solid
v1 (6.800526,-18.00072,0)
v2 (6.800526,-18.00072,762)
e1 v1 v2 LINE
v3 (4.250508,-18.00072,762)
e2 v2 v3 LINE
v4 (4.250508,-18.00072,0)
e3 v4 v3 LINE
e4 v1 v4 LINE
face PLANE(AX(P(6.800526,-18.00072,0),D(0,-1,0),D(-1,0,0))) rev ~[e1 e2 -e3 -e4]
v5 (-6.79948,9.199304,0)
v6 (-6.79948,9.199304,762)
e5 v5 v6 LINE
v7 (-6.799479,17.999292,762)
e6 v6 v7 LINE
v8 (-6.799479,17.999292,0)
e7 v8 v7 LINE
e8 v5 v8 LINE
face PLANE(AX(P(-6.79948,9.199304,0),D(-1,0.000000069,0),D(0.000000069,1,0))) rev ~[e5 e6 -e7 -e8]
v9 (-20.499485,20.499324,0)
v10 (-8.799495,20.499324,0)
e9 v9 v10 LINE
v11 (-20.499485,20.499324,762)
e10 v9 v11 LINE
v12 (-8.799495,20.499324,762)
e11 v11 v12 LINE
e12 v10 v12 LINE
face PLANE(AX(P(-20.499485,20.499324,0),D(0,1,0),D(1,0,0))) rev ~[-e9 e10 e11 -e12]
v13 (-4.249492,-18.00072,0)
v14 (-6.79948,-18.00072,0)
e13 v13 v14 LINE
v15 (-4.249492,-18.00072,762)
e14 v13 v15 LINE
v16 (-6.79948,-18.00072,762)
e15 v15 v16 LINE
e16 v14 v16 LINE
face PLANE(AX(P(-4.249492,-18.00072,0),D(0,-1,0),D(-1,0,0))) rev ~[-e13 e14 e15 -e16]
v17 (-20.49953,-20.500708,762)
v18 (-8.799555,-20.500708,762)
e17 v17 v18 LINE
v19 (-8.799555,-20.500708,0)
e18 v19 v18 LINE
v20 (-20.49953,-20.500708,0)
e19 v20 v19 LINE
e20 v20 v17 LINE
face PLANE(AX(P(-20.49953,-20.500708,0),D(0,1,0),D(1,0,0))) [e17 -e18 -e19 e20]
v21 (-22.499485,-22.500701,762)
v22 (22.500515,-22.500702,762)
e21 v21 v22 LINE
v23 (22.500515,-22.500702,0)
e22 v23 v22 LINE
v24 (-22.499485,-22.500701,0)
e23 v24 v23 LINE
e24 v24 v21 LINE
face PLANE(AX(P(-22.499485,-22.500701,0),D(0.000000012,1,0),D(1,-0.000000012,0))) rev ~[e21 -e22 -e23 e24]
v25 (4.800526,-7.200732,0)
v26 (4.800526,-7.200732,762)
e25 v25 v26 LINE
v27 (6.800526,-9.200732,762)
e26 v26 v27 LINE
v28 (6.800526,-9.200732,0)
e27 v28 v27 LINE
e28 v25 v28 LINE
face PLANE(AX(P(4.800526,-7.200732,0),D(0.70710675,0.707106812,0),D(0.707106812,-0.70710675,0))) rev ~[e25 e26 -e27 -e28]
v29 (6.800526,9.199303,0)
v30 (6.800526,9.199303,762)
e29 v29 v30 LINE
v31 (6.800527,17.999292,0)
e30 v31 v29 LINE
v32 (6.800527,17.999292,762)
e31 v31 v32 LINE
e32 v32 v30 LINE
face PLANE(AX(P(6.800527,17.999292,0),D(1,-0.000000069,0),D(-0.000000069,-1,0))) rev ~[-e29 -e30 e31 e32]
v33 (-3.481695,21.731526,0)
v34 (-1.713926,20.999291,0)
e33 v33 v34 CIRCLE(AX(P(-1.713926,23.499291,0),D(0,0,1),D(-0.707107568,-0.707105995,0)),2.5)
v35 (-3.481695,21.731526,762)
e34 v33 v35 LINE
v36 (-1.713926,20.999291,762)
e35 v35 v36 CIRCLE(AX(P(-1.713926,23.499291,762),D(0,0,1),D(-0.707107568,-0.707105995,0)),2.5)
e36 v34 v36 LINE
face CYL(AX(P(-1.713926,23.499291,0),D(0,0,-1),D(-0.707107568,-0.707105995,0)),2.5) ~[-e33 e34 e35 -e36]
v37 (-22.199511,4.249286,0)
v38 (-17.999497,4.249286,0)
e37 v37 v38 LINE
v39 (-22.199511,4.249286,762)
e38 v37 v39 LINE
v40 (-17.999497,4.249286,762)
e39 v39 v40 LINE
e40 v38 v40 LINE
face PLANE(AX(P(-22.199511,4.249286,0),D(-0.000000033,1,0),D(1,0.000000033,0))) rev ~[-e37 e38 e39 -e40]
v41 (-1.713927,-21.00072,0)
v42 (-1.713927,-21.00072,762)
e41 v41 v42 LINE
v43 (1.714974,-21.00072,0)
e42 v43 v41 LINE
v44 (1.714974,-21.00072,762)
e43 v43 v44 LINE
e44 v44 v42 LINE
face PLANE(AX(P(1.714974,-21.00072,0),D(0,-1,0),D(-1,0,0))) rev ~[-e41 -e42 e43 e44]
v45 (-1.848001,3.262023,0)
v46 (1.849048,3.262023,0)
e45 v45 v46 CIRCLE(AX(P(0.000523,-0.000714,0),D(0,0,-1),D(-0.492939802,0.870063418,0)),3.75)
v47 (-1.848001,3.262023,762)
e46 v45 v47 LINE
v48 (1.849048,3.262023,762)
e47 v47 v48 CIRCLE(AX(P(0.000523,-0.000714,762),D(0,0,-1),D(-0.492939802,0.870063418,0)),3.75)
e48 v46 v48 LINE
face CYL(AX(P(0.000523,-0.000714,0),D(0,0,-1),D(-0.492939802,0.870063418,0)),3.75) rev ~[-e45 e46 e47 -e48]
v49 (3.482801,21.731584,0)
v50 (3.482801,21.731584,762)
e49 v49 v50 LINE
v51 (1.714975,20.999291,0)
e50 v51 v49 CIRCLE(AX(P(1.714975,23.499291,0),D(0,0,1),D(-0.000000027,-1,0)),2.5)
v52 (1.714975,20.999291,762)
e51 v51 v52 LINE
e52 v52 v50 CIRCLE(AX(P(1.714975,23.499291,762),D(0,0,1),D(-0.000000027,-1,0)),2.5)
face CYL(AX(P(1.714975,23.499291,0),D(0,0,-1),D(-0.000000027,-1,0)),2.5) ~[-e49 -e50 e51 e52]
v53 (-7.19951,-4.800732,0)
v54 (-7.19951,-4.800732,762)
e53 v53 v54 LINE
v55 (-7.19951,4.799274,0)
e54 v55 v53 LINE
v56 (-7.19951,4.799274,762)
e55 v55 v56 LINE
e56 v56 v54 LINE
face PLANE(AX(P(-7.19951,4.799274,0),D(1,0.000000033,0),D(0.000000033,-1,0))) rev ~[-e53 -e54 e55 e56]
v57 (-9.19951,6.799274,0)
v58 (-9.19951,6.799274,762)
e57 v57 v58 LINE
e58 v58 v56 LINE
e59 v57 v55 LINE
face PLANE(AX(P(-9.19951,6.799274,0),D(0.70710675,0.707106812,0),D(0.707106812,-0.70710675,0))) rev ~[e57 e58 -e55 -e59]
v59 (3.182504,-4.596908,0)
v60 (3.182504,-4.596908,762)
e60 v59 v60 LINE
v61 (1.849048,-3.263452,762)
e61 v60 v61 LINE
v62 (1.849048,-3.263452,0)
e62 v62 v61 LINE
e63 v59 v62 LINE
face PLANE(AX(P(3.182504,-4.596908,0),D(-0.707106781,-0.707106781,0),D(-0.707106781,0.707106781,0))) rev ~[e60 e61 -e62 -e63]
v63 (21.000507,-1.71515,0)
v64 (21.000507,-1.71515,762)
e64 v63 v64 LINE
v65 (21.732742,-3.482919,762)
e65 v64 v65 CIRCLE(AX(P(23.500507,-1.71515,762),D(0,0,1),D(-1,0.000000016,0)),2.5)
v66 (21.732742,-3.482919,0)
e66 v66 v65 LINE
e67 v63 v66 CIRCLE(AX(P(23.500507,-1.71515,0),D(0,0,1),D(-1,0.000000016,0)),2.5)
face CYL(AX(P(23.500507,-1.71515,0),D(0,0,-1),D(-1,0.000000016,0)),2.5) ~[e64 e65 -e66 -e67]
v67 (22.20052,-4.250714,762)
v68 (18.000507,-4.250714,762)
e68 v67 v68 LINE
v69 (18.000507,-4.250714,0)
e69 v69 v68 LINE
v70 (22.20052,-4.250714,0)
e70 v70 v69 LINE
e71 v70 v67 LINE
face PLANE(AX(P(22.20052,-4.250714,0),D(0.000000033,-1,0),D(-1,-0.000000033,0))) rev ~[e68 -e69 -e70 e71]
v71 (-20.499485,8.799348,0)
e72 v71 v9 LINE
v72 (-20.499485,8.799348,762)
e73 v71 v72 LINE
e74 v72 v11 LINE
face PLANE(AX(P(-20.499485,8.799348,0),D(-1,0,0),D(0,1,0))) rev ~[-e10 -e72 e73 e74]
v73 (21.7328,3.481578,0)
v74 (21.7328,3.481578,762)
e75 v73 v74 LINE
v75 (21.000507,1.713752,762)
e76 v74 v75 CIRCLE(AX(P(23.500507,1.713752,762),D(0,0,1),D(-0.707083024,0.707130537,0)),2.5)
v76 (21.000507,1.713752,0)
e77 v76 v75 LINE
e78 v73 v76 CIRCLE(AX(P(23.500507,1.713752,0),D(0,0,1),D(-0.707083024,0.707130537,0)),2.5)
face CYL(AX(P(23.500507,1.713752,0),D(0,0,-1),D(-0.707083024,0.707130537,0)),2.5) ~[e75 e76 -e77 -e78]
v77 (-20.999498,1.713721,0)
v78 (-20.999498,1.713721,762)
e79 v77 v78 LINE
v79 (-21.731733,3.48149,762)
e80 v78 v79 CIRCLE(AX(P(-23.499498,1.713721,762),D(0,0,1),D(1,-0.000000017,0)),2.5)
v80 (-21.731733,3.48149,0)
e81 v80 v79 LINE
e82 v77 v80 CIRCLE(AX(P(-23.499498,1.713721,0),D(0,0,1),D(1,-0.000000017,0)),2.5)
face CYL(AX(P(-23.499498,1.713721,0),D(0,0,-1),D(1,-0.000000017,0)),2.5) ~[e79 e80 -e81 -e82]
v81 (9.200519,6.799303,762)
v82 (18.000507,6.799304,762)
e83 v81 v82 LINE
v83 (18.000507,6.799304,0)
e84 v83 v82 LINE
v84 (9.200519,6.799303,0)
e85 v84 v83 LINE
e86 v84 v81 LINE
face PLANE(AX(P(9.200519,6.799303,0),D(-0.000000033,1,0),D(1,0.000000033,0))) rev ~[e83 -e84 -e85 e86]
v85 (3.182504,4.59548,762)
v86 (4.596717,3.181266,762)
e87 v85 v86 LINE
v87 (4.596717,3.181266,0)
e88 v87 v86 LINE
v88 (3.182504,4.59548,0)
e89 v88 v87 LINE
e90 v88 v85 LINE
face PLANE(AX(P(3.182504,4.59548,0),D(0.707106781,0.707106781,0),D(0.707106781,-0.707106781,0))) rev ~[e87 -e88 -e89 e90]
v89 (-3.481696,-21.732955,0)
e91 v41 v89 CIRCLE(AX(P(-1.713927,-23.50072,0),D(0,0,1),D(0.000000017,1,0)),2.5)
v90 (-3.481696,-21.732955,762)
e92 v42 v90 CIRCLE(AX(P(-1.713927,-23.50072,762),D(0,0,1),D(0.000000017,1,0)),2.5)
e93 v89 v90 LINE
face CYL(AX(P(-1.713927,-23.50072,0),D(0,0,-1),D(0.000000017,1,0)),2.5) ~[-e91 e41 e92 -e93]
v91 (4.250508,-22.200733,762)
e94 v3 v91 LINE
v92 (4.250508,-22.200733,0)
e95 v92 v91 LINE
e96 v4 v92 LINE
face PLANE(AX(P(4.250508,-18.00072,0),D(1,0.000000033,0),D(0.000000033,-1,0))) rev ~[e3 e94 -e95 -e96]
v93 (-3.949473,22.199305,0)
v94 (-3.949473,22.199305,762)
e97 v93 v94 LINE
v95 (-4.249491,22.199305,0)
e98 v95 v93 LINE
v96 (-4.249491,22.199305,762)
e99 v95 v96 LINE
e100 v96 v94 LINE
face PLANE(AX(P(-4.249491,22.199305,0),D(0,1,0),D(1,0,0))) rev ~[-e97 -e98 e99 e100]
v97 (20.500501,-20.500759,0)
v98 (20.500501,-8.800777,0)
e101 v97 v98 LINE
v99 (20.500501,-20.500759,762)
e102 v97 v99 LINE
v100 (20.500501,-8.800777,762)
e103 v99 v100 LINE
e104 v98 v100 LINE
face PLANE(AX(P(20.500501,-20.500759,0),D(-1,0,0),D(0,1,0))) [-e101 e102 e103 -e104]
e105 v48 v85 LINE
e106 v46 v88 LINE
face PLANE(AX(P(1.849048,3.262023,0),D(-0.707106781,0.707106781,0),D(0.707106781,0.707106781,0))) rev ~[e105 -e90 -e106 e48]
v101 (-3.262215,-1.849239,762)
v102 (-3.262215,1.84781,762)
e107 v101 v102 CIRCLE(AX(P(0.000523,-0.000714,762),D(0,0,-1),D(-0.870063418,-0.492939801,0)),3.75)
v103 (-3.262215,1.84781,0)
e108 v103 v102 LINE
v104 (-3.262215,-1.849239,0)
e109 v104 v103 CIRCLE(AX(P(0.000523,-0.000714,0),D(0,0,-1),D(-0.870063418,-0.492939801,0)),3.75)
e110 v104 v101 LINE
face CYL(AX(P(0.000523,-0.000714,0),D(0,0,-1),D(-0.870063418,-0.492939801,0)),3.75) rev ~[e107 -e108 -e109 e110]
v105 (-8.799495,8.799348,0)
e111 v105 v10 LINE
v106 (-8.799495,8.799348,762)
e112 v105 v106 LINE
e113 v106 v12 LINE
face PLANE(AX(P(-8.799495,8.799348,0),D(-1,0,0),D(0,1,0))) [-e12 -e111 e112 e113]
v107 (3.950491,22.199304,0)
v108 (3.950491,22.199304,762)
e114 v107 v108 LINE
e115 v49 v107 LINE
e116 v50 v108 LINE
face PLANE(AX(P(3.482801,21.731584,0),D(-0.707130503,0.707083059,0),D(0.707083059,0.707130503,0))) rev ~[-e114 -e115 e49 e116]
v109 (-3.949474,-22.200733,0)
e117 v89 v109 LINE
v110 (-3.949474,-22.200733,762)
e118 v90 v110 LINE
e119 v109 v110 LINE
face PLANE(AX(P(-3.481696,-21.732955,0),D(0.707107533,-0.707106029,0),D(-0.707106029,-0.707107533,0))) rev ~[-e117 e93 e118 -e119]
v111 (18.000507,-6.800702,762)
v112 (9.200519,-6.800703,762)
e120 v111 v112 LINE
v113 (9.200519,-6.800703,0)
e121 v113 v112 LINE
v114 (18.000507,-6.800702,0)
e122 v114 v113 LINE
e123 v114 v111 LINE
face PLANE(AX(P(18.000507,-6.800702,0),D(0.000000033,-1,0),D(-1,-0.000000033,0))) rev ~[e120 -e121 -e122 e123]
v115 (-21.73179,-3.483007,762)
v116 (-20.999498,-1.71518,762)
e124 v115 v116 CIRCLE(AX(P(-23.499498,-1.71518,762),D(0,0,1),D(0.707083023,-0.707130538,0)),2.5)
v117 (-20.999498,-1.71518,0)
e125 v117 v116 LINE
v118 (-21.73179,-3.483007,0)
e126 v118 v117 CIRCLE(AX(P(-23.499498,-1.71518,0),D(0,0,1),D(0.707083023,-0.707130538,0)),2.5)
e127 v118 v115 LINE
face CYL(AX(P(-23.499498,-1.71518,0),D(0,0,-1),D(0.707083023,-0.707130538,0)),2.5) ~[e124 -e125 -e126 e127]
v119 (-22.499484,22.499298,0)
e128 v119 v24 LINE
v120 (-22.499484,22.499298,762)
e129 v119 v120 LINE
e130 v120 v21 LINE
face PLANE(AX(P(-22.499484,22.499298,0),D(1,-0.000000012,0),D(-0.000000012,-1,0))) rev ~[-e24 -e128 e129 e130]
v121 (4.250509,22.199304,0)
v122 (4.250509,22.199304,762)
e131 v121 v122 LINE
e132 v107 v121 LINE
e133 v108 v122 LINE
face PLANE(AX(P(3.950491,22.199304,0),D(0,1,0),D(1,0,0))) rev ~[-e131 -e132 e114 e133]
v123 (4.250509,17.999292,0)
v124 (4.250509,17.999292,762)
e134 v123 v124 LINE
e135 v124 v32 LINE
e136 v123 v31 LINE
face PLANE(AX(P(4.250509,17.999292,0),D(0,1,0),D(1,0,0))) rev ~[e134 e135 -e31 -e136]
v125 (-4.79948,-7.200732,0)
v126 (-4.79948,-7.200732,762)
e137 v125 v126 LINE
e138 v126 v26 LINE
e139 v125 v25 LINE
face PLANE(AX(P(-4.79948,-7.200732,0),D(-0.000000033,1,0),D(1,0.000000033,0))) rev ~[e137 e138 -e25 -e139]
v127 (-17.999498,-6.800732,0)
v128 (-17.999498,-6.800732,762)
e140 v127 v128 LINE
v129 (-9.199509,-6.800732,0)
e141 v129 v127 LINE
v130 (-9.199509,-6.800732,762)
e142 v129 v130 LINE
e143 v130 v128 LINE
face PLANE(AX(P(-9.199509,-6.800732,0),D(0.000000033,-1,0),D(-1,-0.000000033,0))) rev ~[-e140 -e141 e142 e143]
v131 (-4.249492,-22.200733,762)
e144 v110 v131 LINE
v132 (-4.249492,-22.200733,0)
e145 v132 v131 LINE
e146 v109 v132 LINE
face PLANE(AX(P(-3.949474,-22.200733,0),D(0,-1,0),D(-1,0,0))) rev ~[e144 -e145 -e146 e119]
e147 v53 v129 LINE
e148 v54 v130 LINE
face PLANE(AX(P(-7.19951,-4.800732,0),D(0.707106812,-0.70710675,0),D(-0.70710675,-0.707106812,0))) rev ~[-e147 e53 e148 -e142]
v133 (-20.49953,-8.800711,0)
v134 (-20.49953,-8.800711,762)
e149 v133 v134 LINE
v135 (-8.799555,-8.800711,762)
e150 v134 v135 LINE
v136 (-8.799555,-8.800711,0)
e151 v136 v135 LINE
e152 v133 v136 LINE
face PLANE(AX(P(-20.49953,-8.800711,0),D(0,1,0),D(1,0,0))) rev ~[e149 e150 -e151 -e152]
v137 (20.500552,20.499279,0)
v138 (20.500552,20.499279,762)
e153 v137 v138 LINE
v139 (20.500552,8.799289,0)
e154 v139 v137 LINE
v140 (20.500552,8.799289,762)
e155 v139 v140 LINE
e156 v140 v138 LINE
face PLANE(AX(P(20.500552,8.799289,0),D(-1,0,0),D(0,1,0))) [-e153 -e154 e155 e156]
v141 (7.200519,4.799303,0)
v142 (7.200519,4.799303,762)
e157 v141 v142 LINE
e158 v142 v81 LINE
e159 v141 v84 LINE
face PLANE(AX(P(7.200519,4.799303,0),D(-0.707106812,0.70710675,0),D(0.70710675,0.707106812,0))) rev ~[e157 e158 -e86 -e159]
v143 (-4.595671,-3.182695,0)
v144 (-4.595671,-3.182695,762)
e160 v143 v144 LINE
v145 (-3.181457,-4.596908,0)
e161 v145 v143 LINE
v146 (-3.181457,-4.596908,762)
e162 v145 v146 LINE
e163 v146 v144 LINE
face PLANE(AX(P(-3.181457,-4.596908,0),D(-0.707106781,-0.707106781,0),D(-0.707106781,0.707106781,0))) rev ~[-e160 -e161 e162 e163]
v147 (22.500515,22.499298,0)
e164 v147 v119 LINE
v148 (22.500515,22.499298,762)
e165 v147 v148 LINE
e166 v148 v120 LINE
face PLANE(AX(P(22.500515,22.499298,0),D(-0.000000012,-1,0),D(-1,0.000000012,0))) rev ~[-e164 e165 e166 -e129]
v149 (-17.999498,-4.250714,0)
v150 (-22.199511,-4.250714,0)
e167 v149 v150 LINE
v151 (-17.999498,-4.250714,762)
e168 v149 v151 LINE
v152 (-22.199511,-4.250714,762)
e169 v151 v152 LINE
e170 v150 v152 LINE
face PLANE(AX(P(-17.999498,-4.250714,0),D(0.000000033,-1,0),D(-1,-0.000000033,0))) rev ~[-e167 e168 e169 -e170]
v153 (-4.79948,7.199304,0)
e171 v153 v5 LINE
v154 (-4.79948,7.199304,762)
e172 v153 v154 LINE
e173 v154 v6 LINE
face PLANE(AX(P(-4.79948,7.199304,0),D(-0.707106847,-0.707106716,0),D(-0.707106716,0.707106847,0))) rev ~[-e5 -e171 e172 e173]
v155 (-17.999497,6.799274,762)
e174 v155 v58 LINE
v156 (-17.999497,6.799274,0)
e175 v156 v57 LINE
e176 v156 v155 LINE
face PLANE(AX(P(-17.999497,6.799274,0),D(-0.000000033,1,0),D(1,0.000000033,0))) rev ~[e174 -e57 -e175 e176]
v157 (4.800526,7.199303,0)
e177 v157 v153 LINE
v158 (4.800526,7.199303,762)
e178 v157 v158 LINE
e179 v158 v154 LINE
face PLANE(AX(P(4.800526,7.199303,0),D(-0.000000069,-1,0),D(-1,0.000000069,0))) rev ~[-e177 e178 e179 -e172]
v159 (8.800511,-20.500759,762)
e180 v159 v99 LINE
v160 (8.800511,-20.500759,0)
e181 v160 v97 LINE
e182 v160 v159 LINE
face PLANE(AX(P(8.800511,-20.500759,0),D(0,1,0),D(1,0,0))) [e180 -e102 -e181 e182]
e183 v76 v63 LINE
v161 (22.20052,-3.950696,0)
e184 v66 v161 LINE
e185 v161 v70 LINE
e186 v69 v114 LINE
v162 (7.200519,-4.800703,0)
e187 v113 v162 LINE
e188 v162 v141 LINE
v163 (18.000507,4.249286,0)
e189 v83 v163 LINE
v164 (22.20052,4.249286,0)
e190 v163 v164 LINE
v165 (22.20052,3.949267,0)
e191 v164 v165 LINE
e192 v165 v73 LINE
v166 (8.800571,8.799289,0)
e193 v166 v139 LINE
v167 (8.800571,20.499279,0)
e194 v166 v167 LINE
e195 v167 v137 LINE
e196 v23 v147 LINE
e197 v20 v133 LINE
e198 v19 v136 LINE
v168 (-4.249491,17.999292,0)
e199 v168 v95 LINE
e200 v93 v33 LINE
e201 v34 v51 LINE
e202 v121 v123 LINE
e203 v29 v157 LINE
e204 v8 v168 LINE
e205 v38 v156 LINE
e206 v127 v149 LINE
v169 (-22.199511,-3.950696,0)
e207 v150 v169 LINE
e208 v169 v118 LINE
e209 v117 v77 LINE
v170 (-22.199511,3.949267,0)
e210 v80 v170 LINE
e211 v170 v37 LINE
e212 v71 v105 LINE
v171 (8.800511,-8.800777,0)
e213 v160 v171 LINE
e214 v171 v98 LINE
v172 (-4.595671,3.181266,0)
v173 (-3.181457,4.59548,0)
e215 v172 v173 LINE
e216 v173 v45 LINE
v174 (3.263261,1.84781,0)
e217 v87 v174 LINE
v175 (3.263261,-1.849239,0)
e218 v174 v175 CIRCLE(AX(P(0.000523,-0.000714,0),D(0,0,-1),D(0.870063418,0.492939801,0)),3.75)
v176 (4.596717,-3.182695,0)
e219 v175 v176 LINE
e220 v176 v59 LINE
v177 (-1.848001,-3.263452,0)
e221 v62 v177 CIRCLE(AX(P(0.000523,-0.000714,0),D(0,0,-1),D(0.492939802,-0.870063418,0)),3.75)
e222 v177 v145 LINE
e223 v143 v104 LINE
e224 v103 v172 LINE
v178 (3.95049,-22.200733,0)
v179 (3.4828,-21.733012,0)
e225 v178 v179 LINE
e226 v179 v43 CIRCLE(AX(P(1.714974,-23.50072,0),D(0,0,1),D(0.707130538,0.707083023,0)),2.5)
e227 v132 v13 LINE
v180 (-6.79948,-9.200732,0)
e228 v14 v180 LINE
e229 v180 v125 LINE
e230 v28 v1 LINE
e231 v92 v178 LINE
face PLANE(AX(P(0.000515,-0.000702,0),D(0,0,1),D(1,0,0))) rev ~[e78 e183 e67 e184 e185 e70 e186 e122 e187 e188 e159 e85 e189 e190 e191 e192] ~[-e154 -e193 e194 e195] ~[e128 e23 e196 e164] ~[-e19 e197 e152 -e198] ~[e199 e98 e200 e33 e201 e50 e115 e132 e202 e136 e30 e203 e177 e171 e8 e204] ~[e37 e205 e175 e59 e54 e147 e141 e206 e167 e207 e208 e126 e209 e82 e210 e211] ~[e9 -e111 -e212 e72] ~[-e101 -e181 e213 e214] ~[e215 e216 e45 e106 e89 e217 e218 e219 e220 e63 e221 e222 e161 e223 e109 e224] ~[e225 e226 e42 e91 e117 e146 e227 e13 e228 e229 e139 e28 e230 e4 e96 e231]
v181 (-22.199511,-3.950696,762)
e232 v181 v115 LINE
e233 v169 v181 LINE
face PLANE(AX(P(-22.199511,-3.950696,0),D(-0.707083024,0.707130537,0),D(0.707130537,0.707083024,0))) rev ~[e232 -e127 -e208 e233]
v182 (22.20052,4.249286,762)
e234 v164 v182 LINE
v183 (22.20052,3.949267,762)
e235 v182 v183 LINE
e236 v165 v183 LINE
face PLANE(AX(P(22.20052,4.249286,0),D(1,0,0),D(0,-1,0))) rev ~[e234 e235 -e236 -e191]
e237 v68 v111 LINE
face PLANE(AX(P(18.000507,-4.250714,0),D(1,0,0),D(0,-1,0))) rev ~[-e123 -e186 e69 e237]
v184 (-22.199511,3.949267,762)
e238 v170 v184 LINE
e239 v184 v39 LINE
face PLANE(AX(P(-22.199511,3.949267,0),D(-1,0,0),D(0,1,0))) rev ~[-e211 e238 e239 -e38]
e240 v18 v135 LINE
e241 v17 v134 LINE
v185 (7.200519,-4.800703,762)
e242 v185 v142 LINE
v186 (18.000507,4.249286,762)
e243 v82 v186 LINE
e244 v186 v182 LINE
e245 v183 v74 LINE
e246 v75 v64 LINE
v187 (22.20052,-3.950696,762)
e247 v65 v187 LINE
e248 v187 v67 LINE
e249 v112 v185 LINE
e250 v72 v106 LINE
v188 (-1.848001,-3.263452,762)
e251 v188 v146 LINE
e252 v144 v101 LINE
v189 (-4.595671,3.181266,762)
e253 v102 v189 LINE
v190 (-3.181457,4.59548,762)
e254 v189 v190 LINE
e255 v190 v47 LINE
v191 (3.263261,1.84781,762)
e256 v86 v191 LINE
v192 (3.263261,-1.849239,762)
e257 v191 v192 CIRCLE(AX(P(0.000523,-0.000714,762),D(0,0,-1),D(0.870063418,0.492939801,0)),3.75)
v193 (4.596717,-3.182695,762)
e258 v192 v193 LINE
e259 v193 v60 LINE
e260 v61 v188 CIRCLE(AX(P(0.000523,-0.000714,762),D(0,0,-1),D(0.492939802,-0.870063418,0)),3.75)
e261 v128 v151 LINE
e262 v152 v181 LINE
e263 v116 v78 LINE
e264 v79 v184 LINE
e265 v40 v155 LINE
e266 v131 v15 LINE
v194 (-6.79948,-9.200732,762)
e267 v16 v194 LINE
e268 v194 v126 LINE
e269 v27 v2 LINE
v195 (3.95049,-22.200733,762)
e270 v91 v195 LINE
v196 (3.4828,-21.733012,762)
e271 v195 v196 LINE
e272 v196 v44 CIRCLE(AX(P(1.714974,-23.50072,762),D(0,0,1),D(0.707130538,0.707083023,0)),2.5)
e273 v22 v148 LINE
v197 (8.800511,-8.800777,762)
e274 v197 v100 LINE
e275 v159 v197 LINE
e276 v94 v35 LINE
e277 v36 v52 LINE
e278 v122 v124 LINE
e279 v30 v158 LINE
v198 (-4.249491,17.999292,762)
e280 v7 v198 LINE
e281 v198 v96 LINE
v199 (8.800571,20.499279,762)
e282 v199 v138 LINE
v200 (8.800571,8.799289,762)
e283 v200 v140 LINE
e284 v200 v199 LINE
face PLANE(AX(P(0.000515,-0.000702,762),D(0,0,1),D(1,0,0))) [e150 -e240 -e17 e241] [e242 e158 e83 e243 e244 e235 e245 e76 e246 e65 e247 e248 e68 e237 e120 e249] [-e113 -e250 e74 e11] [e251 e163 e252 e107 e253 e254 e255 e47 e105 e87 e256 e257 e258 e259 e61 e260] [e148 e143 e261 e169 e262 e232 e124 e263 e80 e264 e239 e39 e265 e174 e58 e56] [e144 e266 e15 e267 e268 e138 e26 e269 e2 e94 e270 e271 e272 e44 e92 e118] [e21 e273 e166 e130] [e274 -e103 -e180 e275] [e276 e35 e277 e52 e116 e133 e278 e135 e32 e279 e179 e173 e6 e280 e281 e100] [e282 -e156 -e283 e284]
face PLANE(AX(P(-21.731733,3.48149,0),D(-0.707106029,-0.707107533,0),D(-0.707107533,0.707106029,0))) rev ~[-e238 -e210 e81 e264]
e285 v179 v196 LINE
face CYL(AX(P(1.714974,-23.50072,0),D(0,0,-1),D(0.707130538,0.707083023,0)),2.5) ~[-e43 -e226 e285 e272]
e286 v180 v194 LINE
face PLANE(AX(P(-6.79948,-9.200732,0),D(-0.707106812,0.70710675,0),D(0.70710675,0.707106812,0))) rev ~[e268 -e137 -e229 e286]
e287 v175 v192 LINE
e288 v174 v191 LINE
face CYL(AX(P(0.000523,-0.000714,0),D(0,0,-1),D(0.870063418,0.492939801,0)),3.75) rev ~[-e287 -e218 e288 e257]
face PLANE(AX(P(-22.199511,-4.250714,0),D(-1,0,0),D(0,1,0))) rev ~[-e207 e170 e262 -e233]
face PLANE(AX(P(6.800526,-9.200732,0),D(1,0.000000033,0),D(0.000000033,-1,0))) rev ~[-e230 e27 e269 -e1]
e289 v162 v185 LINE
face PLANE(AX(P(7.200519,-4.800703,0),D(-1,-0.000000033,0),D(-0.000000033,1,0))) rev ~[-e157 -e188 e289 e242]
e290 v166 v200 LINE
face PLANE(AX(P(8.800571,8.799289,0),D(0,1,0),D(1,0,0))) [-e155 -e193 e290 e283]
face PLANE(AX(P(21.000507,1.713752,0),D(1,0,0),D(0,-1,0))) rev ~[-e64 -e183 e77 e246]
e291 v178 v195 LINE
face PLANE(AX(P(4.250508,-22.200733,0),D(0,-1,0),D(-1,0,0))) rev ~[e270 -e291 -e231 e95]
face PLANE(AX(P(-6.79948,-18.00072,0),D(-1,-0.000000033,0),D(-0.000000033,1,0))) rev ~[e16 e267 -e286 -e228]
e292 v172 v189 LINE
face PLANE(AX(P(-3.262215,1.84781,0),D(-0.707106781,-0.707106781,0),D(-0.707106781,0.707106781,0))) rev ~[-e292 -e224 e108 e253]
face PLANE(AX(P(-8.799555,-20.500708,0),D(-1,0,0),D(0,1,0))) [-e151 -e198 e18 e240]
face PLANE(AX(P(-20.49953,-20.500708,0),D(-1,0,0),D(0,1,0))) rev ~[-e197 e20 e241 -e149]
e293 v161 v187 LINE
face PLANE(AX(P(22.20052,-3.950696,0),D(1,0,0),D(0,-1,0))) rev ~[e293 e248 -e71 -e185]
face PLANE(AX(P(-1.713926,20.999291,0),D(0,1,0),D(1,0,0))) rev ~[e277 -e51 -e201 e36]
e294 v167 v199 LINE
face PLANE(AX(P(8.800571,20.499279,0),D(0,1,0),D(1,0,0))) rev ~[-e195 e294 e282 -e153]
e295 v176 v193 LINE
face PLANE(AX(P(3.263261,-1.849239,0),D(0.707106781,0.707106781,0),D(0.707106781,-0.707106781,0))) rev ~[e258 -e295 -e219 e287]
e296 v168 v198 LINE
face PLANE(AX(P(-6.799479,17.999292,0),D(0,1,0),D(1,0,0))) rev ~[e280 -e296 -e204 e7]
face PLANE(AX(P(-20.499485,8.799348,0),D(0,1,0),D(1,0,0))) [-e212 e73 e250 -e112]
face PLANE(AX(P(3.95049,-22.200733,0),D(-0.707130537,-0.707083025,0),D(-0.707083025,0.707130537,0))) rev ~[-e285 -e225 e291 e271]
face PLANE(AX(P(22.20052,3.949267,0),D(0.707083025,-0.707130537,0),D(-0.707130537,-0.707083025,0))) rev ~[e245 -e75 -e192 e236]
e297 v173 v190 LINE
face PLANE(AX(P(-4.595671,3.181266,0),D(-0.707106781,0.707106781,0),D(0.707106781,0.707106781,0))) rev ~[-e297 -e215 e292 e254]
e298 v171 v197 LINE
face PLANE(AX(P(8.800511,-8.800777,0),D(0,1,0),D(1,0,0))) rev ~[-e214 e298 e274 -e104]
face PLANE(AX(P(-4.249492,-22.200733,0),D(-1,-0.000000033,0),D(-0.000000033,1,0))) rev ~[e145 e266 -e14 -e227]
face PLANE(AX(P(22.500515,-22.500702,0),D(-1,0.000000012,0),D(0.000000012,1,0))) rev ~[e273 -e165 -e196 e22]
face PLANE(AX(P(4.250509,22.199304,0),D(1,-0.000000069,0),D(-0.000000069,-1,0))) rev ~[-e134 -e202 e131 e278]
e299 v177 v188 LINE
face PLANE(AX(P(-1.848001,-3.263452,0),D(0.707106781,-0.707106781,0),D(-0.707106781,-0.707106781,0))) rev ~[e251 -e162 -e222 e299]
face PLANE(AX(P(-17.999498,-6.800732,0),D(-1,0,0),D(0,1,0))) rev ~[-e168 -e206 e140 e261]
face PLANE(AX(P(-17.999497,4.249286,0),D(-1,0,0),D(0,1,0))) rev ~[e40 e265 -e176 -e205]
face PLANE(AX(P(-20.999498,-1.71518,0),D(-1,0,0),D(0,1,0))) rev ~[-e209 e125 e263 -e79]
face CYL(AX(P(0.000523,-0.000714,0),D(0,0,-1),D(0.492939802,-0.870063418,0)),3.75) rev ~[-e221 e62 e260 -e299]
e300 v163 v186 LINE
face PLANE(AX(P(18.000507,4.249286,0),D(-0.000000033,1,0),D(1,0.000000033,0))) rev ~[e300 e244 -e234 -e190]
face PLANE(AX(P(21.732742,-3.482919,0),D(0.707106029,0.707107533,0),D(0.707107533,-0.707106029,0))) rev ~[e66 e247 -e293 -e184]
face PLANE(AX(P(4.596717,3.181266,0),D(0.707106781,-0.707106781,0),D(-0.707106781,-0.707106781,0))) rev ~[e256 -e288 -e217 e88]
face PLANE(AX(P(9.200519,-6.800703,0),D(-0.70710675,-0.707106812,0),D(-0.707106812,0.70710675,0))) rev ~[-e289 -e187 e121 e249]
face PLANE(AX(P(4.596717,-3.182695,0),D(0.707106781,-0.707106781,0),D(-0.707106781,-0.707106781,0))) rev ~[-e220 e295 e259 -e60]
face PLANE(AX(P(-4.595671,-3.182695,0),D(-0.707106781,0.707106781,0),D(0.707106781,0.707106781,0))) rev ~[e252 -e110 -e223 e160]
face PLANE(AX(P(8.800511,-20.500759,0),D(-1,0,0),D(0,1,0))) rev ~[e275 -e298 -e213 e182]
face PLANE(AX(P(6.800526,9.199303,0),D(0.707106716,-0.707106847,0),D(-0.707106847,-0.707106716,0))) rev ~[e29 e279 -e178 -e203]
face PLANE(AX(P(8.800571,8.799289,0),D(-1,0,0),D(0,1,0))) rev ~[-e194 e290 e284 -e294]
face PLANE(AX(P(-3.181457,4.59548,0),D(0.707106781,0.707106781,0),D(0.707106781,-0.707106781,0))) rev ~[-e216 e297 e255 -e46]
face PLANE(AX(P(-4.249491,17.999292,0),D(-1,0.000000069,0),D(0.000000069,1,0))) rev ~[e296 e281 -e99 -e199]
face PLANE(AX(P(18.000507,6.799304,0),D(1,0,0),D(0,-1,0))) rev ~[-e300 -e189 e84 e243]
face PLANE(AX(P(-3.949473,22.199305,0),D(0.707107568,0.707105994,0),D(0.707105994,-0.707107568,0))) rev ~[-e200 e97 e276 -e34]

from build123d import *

# Parameters (mm, degrees)
SKETCH1_W           = 11.699975178
SKETCH1_H           = 11.699996949
SKETCH1_W_2         = 11.699990436
SKETCH1_H_2         = 11.699981689
SKETCH1_W_3         = 11.699981689
SKETCH1_H_3         = 11.699990436
SKETCH1_W_4         = 11.699990437
SKETCH1_H_4         = 11.699975177
BOSS_EXTRUDE1_DEPTH = 762


with BuildPart() as part:
    # Sketch1 → Boss-Extrude1 (new body)
    with BuildSketch(Plane.XY):
        Polygon((-22.499484948, -22.500701346), (22.500514502, -22.500701895), (22.500515052, 22.499297556), (-22.499484399, 22.499298105), align=None)
        with Locations((-14.649542346, -14.650709384)):
            Rectangle(SKETCH1_W, SKETCH1_H, mode=Mode.SUBTRACT)
        with Locations((14.65050626, -14.650767962)):
            Rectangle(SKETCH1_W_2, SKETCH1_H_2, mode=Mode.SUBTRACT)
        with Locations((14.650561583, 14.6492839)):
            Rectangle(SKETCH1_W_3, SKETCH1_H_3, mode=Mode.SUBTRACT)
        with Locations((-14.64949028, 14.649335967)):
            Rectangle(SKETCH1_W_4, SKETCH1_H_4, mode=Mode.SUBTRACT)
        with BuildLine():
            Line((-22.199510799, -3.950696126), (-21.731790056, -3.48300681))
            ThreePointArc((-21.731790056, -3.48300681), (-21.189814855, -2.671927844), (-20.999497617, -1.71518046))
            Line((-20.999497617, -1.71518046), (-20.999497617, 1.713721031))
            ThreePointArc((-20.999497617, 1.713721031), (-21.189799286, 2.670430863), (-21.731732544, 3.481489907))
            Line((-21.731732544, 3.481489907), (-22.199510888, 3.949267256))
            Line((-22.199510888, 3.949267256), (-22.199510888, 4.249285566))
            Line((-22.199510888, 4.249285566), (-17.999497356, 4.249285704))
            Line((-17.999497356, 4.249285704), (-17.999497356, 6.79927354))
            Line((-17.999497356, 6.79927354), (-9.199509947, 6.799273828))
            Line((-9.199509947, 6.799273828), (-7.199509956, 4.799274012))
            Line((-7.199509956, 4.799274012), (-7.199509641, -4.800732197))
            Line((-7.199509641, -4.800732197), (-9.199509449, -6.800732179))
            Line((-9.199509449, -6.800732179), (-17.99949762, -6.800732468))
            Line((-17.99949762, -6.800732468), (-17.99949762, -4.250714253))
            Line((-17.99949762, -4.250714253), (-22.199510799, -4.250714391))
            Line((-22.199510799, -4.250714391), (-22.199510799, -3.950696126))
        make_face(mode=Mode.SUBTRACT)
        with BuildLine():
            Line((-6.799479919, -18.000719999), (-6.799480207, -9.200732353))
            Line((-6.799480207, -9.200732353), (-4.799480391, -7.200732362))
            Line((-4.799480391, -7.200732362), (4.800525817, -7.200732047))
            Line((4.800525817, -7.200732047), (6.8005258, -9.200731855))
            Line((6.8005258, -9.200731855), (6.800526088, -18.000720263))
            Line((6.800526088, -18.000720263), (4.250507877, -18.000720263))
            Line((4.250507877, -18.000720263), (4.250508015, -22.200733153))
            Line((4.250508015, -22.200733153), (3.950489751, -22.200733153))
            Line((3.950489751, -22.200733153), (3.482800434, -21.73301241))
            ThreePointArc((3.482800434, -21.73301241), (2.671721468, -21.191037209), (1.714974084, -21.000719971))
            Line((1.714974084, -21.000719971), (-1.713927407, -21.000719971))
            ThreePointArc((-1.713927407, -21.000719971), (-2.670637239, -21.19102164), (-3.481696283, -21.732954898))
            Line((-3.481696283, -21.732954898), (-3.949473632, -22.200733242))
            Line((-3.949473632, -22.200733242), (-4.249491942, -22.200733242))
            Line((-4.249491942, -22.200733242), (-4.24949208, -18.000719999))
            Line((-4.24949208, -18.000719999), (-6.799479919, -18.000719999))
        make_face(mode=Mode.SUBTRACT)
        with BuildLine():
            Line((7.200519471, -4.800702751), (7.200519156, 4.799303458))
            Line((7.200519156, 4.799303458), (9.200518964, 6.79930344))
            Line((9.200518964, 6.79930344), (18.000507424, 6.799303729))
            Line((18.000507424, 6.799303729), (18.000507424, 4.249285514))
            Line((18.000507424, 4.249285514), (22.200520261, 4.249285652))
            Line((22.200520261, 4.249285652), (22.200520261, 3.949267391))
            Line((22.200520261, 3.949267391), (21.732799519, 3.481578075))
            ThreePointArc((21.732799519, 3.481578075), (21.190824318, 2.670499108), (21.000507079, 1.713751724))
            Line((21.000507079, 1.713751724), (21.000507079, -1.715149766))
            ThreePointArc((21.000507079, -1.715149766), (21.190808749, -2.671859599), (21.732742007, -3.482918643))
            Line((21.732742007, -3.482918643), (22.200520351, -3.950695992))
            Line((22.200520351, -3.950695992), (22.200520351, -4.250714302))
            Line((22.200520351, -4.250714302), (18.000507108, -4.25071444))
            Line((18.000507108, -4.25071444), (18.000507108, -6.800702279))
            Line((18.000507108, -6.800702279), (9.200519462, -6.800702567))
            Line((9.200519462, -6.800702567), (7.200519471, -4.800702751))
        make_face(mode=Mode.SUBTRACT)
        with BuildLine():
            Line((-4.799479817, 7.199303635), (-6.799479854, 9.199304042))
            Line((-6.799479854, 9.199304042), (-6.799479244, 17.999291576))
            Line((-6.799479244, 17.999291576), (-4.249491247, 17.999291576))
            Line((-4.249491247, 17.999291576), (-4.249490956, 22.199304807))
            Line((-4.249490956, 22.199304807), (-3.949472548, 22.199304807))
            Line((-3.949472548, 22.199304807), (-3.481695222, 21.73152644))
            ThreePointArc((-3.481695222, 21.73152644), (-2.670636178, 21.189593132), (-1.713926324, 20.999291428))
            Line((-1.713926324, 20.999291428), (1.714975167, 20.999291428))
            ThreePointArc((1.714975167, 20.999291428), (2.671722509, 21.189608628), (3.482801459, 21.731583767))
            Line((3.482801459, 21.731583767), (3.950490798, 22.199304487))
            Line((3.950490798, 22.199304487), (4.250509108, 22.199304487))
            Line((4.250509108, 22.199304487), (4.250508817, 17.999291575))
            Line((4.250508817, 17.999291575), (6.800527063, 17.999291575))
            Line((6.800527063, 17.999291575), (6.800526453, 9.199302988))
            Line((6.800526453, 9.199302988), (4.800526064, 7.199302969))
            Line((4.800526064, 7.199302969), (-4.799479817, 7.199303635))
        make_face(mode=Mode.SUBTRACT)
        with BuildLine():
            Line((-4.595670829, -3.182694885), (-3.26221457, -1.849238626))
            ThreePointArc((-3.26221457, -1.849238626), (-3.749476751, -0.00071437), (-3.26221457, 1.847809887))
            Line((-3.26221457, 1.847809887), (-4.595670829, 3.181266146))
            Line((-4.595670829, 3.181266146), (-3.181457266, 4.595479708))
            Line((-3.181457266, 4.595479708), (-1.848001007, 3.262023449))
            ThreePointArc((-1.848001007, 3.262023449), (0.000523249, 3.74928563), (1.849047505, 3.262023449))
            Line((1.849047505, 3.262023449), (3.182503764, 4.595479708))
            Line((3.182503764, 4.595479708), (4.596717327, 3.181266146))
            Line((4.596717327, 3.181266146), (3.263261068, 1.847809887))
            ThreePointArc((3.263261068, 1.847809887), (3.750523249, -0.00071437), (3.263261068, -1.849238626))
            Line((3.263261068, -1.849238626), (4.596717327, -3.182694885))
            Line((4.596717327, -3.182694885), (3.182503764, -4.596908447))
            Line((3.182503764, -4.596908447), (1.849047505, -3.263452188))
            ThreePointArc((1.849047505, -3.263452188), (0.000523249, -3.75071437), (-1.848001007, -3.263452188))
            Line((-1.848001007, -3.263452188), (-3.181457266, -4.596908447))
            Line((-3.181457266, -4.596908447), (-4.595670829, -3.182694885))
        make_face(mode=Mode.SUBTRACT)
    extrude(amount=BOSS_EXTRUDE1_DEPTH)


solid = part.part
